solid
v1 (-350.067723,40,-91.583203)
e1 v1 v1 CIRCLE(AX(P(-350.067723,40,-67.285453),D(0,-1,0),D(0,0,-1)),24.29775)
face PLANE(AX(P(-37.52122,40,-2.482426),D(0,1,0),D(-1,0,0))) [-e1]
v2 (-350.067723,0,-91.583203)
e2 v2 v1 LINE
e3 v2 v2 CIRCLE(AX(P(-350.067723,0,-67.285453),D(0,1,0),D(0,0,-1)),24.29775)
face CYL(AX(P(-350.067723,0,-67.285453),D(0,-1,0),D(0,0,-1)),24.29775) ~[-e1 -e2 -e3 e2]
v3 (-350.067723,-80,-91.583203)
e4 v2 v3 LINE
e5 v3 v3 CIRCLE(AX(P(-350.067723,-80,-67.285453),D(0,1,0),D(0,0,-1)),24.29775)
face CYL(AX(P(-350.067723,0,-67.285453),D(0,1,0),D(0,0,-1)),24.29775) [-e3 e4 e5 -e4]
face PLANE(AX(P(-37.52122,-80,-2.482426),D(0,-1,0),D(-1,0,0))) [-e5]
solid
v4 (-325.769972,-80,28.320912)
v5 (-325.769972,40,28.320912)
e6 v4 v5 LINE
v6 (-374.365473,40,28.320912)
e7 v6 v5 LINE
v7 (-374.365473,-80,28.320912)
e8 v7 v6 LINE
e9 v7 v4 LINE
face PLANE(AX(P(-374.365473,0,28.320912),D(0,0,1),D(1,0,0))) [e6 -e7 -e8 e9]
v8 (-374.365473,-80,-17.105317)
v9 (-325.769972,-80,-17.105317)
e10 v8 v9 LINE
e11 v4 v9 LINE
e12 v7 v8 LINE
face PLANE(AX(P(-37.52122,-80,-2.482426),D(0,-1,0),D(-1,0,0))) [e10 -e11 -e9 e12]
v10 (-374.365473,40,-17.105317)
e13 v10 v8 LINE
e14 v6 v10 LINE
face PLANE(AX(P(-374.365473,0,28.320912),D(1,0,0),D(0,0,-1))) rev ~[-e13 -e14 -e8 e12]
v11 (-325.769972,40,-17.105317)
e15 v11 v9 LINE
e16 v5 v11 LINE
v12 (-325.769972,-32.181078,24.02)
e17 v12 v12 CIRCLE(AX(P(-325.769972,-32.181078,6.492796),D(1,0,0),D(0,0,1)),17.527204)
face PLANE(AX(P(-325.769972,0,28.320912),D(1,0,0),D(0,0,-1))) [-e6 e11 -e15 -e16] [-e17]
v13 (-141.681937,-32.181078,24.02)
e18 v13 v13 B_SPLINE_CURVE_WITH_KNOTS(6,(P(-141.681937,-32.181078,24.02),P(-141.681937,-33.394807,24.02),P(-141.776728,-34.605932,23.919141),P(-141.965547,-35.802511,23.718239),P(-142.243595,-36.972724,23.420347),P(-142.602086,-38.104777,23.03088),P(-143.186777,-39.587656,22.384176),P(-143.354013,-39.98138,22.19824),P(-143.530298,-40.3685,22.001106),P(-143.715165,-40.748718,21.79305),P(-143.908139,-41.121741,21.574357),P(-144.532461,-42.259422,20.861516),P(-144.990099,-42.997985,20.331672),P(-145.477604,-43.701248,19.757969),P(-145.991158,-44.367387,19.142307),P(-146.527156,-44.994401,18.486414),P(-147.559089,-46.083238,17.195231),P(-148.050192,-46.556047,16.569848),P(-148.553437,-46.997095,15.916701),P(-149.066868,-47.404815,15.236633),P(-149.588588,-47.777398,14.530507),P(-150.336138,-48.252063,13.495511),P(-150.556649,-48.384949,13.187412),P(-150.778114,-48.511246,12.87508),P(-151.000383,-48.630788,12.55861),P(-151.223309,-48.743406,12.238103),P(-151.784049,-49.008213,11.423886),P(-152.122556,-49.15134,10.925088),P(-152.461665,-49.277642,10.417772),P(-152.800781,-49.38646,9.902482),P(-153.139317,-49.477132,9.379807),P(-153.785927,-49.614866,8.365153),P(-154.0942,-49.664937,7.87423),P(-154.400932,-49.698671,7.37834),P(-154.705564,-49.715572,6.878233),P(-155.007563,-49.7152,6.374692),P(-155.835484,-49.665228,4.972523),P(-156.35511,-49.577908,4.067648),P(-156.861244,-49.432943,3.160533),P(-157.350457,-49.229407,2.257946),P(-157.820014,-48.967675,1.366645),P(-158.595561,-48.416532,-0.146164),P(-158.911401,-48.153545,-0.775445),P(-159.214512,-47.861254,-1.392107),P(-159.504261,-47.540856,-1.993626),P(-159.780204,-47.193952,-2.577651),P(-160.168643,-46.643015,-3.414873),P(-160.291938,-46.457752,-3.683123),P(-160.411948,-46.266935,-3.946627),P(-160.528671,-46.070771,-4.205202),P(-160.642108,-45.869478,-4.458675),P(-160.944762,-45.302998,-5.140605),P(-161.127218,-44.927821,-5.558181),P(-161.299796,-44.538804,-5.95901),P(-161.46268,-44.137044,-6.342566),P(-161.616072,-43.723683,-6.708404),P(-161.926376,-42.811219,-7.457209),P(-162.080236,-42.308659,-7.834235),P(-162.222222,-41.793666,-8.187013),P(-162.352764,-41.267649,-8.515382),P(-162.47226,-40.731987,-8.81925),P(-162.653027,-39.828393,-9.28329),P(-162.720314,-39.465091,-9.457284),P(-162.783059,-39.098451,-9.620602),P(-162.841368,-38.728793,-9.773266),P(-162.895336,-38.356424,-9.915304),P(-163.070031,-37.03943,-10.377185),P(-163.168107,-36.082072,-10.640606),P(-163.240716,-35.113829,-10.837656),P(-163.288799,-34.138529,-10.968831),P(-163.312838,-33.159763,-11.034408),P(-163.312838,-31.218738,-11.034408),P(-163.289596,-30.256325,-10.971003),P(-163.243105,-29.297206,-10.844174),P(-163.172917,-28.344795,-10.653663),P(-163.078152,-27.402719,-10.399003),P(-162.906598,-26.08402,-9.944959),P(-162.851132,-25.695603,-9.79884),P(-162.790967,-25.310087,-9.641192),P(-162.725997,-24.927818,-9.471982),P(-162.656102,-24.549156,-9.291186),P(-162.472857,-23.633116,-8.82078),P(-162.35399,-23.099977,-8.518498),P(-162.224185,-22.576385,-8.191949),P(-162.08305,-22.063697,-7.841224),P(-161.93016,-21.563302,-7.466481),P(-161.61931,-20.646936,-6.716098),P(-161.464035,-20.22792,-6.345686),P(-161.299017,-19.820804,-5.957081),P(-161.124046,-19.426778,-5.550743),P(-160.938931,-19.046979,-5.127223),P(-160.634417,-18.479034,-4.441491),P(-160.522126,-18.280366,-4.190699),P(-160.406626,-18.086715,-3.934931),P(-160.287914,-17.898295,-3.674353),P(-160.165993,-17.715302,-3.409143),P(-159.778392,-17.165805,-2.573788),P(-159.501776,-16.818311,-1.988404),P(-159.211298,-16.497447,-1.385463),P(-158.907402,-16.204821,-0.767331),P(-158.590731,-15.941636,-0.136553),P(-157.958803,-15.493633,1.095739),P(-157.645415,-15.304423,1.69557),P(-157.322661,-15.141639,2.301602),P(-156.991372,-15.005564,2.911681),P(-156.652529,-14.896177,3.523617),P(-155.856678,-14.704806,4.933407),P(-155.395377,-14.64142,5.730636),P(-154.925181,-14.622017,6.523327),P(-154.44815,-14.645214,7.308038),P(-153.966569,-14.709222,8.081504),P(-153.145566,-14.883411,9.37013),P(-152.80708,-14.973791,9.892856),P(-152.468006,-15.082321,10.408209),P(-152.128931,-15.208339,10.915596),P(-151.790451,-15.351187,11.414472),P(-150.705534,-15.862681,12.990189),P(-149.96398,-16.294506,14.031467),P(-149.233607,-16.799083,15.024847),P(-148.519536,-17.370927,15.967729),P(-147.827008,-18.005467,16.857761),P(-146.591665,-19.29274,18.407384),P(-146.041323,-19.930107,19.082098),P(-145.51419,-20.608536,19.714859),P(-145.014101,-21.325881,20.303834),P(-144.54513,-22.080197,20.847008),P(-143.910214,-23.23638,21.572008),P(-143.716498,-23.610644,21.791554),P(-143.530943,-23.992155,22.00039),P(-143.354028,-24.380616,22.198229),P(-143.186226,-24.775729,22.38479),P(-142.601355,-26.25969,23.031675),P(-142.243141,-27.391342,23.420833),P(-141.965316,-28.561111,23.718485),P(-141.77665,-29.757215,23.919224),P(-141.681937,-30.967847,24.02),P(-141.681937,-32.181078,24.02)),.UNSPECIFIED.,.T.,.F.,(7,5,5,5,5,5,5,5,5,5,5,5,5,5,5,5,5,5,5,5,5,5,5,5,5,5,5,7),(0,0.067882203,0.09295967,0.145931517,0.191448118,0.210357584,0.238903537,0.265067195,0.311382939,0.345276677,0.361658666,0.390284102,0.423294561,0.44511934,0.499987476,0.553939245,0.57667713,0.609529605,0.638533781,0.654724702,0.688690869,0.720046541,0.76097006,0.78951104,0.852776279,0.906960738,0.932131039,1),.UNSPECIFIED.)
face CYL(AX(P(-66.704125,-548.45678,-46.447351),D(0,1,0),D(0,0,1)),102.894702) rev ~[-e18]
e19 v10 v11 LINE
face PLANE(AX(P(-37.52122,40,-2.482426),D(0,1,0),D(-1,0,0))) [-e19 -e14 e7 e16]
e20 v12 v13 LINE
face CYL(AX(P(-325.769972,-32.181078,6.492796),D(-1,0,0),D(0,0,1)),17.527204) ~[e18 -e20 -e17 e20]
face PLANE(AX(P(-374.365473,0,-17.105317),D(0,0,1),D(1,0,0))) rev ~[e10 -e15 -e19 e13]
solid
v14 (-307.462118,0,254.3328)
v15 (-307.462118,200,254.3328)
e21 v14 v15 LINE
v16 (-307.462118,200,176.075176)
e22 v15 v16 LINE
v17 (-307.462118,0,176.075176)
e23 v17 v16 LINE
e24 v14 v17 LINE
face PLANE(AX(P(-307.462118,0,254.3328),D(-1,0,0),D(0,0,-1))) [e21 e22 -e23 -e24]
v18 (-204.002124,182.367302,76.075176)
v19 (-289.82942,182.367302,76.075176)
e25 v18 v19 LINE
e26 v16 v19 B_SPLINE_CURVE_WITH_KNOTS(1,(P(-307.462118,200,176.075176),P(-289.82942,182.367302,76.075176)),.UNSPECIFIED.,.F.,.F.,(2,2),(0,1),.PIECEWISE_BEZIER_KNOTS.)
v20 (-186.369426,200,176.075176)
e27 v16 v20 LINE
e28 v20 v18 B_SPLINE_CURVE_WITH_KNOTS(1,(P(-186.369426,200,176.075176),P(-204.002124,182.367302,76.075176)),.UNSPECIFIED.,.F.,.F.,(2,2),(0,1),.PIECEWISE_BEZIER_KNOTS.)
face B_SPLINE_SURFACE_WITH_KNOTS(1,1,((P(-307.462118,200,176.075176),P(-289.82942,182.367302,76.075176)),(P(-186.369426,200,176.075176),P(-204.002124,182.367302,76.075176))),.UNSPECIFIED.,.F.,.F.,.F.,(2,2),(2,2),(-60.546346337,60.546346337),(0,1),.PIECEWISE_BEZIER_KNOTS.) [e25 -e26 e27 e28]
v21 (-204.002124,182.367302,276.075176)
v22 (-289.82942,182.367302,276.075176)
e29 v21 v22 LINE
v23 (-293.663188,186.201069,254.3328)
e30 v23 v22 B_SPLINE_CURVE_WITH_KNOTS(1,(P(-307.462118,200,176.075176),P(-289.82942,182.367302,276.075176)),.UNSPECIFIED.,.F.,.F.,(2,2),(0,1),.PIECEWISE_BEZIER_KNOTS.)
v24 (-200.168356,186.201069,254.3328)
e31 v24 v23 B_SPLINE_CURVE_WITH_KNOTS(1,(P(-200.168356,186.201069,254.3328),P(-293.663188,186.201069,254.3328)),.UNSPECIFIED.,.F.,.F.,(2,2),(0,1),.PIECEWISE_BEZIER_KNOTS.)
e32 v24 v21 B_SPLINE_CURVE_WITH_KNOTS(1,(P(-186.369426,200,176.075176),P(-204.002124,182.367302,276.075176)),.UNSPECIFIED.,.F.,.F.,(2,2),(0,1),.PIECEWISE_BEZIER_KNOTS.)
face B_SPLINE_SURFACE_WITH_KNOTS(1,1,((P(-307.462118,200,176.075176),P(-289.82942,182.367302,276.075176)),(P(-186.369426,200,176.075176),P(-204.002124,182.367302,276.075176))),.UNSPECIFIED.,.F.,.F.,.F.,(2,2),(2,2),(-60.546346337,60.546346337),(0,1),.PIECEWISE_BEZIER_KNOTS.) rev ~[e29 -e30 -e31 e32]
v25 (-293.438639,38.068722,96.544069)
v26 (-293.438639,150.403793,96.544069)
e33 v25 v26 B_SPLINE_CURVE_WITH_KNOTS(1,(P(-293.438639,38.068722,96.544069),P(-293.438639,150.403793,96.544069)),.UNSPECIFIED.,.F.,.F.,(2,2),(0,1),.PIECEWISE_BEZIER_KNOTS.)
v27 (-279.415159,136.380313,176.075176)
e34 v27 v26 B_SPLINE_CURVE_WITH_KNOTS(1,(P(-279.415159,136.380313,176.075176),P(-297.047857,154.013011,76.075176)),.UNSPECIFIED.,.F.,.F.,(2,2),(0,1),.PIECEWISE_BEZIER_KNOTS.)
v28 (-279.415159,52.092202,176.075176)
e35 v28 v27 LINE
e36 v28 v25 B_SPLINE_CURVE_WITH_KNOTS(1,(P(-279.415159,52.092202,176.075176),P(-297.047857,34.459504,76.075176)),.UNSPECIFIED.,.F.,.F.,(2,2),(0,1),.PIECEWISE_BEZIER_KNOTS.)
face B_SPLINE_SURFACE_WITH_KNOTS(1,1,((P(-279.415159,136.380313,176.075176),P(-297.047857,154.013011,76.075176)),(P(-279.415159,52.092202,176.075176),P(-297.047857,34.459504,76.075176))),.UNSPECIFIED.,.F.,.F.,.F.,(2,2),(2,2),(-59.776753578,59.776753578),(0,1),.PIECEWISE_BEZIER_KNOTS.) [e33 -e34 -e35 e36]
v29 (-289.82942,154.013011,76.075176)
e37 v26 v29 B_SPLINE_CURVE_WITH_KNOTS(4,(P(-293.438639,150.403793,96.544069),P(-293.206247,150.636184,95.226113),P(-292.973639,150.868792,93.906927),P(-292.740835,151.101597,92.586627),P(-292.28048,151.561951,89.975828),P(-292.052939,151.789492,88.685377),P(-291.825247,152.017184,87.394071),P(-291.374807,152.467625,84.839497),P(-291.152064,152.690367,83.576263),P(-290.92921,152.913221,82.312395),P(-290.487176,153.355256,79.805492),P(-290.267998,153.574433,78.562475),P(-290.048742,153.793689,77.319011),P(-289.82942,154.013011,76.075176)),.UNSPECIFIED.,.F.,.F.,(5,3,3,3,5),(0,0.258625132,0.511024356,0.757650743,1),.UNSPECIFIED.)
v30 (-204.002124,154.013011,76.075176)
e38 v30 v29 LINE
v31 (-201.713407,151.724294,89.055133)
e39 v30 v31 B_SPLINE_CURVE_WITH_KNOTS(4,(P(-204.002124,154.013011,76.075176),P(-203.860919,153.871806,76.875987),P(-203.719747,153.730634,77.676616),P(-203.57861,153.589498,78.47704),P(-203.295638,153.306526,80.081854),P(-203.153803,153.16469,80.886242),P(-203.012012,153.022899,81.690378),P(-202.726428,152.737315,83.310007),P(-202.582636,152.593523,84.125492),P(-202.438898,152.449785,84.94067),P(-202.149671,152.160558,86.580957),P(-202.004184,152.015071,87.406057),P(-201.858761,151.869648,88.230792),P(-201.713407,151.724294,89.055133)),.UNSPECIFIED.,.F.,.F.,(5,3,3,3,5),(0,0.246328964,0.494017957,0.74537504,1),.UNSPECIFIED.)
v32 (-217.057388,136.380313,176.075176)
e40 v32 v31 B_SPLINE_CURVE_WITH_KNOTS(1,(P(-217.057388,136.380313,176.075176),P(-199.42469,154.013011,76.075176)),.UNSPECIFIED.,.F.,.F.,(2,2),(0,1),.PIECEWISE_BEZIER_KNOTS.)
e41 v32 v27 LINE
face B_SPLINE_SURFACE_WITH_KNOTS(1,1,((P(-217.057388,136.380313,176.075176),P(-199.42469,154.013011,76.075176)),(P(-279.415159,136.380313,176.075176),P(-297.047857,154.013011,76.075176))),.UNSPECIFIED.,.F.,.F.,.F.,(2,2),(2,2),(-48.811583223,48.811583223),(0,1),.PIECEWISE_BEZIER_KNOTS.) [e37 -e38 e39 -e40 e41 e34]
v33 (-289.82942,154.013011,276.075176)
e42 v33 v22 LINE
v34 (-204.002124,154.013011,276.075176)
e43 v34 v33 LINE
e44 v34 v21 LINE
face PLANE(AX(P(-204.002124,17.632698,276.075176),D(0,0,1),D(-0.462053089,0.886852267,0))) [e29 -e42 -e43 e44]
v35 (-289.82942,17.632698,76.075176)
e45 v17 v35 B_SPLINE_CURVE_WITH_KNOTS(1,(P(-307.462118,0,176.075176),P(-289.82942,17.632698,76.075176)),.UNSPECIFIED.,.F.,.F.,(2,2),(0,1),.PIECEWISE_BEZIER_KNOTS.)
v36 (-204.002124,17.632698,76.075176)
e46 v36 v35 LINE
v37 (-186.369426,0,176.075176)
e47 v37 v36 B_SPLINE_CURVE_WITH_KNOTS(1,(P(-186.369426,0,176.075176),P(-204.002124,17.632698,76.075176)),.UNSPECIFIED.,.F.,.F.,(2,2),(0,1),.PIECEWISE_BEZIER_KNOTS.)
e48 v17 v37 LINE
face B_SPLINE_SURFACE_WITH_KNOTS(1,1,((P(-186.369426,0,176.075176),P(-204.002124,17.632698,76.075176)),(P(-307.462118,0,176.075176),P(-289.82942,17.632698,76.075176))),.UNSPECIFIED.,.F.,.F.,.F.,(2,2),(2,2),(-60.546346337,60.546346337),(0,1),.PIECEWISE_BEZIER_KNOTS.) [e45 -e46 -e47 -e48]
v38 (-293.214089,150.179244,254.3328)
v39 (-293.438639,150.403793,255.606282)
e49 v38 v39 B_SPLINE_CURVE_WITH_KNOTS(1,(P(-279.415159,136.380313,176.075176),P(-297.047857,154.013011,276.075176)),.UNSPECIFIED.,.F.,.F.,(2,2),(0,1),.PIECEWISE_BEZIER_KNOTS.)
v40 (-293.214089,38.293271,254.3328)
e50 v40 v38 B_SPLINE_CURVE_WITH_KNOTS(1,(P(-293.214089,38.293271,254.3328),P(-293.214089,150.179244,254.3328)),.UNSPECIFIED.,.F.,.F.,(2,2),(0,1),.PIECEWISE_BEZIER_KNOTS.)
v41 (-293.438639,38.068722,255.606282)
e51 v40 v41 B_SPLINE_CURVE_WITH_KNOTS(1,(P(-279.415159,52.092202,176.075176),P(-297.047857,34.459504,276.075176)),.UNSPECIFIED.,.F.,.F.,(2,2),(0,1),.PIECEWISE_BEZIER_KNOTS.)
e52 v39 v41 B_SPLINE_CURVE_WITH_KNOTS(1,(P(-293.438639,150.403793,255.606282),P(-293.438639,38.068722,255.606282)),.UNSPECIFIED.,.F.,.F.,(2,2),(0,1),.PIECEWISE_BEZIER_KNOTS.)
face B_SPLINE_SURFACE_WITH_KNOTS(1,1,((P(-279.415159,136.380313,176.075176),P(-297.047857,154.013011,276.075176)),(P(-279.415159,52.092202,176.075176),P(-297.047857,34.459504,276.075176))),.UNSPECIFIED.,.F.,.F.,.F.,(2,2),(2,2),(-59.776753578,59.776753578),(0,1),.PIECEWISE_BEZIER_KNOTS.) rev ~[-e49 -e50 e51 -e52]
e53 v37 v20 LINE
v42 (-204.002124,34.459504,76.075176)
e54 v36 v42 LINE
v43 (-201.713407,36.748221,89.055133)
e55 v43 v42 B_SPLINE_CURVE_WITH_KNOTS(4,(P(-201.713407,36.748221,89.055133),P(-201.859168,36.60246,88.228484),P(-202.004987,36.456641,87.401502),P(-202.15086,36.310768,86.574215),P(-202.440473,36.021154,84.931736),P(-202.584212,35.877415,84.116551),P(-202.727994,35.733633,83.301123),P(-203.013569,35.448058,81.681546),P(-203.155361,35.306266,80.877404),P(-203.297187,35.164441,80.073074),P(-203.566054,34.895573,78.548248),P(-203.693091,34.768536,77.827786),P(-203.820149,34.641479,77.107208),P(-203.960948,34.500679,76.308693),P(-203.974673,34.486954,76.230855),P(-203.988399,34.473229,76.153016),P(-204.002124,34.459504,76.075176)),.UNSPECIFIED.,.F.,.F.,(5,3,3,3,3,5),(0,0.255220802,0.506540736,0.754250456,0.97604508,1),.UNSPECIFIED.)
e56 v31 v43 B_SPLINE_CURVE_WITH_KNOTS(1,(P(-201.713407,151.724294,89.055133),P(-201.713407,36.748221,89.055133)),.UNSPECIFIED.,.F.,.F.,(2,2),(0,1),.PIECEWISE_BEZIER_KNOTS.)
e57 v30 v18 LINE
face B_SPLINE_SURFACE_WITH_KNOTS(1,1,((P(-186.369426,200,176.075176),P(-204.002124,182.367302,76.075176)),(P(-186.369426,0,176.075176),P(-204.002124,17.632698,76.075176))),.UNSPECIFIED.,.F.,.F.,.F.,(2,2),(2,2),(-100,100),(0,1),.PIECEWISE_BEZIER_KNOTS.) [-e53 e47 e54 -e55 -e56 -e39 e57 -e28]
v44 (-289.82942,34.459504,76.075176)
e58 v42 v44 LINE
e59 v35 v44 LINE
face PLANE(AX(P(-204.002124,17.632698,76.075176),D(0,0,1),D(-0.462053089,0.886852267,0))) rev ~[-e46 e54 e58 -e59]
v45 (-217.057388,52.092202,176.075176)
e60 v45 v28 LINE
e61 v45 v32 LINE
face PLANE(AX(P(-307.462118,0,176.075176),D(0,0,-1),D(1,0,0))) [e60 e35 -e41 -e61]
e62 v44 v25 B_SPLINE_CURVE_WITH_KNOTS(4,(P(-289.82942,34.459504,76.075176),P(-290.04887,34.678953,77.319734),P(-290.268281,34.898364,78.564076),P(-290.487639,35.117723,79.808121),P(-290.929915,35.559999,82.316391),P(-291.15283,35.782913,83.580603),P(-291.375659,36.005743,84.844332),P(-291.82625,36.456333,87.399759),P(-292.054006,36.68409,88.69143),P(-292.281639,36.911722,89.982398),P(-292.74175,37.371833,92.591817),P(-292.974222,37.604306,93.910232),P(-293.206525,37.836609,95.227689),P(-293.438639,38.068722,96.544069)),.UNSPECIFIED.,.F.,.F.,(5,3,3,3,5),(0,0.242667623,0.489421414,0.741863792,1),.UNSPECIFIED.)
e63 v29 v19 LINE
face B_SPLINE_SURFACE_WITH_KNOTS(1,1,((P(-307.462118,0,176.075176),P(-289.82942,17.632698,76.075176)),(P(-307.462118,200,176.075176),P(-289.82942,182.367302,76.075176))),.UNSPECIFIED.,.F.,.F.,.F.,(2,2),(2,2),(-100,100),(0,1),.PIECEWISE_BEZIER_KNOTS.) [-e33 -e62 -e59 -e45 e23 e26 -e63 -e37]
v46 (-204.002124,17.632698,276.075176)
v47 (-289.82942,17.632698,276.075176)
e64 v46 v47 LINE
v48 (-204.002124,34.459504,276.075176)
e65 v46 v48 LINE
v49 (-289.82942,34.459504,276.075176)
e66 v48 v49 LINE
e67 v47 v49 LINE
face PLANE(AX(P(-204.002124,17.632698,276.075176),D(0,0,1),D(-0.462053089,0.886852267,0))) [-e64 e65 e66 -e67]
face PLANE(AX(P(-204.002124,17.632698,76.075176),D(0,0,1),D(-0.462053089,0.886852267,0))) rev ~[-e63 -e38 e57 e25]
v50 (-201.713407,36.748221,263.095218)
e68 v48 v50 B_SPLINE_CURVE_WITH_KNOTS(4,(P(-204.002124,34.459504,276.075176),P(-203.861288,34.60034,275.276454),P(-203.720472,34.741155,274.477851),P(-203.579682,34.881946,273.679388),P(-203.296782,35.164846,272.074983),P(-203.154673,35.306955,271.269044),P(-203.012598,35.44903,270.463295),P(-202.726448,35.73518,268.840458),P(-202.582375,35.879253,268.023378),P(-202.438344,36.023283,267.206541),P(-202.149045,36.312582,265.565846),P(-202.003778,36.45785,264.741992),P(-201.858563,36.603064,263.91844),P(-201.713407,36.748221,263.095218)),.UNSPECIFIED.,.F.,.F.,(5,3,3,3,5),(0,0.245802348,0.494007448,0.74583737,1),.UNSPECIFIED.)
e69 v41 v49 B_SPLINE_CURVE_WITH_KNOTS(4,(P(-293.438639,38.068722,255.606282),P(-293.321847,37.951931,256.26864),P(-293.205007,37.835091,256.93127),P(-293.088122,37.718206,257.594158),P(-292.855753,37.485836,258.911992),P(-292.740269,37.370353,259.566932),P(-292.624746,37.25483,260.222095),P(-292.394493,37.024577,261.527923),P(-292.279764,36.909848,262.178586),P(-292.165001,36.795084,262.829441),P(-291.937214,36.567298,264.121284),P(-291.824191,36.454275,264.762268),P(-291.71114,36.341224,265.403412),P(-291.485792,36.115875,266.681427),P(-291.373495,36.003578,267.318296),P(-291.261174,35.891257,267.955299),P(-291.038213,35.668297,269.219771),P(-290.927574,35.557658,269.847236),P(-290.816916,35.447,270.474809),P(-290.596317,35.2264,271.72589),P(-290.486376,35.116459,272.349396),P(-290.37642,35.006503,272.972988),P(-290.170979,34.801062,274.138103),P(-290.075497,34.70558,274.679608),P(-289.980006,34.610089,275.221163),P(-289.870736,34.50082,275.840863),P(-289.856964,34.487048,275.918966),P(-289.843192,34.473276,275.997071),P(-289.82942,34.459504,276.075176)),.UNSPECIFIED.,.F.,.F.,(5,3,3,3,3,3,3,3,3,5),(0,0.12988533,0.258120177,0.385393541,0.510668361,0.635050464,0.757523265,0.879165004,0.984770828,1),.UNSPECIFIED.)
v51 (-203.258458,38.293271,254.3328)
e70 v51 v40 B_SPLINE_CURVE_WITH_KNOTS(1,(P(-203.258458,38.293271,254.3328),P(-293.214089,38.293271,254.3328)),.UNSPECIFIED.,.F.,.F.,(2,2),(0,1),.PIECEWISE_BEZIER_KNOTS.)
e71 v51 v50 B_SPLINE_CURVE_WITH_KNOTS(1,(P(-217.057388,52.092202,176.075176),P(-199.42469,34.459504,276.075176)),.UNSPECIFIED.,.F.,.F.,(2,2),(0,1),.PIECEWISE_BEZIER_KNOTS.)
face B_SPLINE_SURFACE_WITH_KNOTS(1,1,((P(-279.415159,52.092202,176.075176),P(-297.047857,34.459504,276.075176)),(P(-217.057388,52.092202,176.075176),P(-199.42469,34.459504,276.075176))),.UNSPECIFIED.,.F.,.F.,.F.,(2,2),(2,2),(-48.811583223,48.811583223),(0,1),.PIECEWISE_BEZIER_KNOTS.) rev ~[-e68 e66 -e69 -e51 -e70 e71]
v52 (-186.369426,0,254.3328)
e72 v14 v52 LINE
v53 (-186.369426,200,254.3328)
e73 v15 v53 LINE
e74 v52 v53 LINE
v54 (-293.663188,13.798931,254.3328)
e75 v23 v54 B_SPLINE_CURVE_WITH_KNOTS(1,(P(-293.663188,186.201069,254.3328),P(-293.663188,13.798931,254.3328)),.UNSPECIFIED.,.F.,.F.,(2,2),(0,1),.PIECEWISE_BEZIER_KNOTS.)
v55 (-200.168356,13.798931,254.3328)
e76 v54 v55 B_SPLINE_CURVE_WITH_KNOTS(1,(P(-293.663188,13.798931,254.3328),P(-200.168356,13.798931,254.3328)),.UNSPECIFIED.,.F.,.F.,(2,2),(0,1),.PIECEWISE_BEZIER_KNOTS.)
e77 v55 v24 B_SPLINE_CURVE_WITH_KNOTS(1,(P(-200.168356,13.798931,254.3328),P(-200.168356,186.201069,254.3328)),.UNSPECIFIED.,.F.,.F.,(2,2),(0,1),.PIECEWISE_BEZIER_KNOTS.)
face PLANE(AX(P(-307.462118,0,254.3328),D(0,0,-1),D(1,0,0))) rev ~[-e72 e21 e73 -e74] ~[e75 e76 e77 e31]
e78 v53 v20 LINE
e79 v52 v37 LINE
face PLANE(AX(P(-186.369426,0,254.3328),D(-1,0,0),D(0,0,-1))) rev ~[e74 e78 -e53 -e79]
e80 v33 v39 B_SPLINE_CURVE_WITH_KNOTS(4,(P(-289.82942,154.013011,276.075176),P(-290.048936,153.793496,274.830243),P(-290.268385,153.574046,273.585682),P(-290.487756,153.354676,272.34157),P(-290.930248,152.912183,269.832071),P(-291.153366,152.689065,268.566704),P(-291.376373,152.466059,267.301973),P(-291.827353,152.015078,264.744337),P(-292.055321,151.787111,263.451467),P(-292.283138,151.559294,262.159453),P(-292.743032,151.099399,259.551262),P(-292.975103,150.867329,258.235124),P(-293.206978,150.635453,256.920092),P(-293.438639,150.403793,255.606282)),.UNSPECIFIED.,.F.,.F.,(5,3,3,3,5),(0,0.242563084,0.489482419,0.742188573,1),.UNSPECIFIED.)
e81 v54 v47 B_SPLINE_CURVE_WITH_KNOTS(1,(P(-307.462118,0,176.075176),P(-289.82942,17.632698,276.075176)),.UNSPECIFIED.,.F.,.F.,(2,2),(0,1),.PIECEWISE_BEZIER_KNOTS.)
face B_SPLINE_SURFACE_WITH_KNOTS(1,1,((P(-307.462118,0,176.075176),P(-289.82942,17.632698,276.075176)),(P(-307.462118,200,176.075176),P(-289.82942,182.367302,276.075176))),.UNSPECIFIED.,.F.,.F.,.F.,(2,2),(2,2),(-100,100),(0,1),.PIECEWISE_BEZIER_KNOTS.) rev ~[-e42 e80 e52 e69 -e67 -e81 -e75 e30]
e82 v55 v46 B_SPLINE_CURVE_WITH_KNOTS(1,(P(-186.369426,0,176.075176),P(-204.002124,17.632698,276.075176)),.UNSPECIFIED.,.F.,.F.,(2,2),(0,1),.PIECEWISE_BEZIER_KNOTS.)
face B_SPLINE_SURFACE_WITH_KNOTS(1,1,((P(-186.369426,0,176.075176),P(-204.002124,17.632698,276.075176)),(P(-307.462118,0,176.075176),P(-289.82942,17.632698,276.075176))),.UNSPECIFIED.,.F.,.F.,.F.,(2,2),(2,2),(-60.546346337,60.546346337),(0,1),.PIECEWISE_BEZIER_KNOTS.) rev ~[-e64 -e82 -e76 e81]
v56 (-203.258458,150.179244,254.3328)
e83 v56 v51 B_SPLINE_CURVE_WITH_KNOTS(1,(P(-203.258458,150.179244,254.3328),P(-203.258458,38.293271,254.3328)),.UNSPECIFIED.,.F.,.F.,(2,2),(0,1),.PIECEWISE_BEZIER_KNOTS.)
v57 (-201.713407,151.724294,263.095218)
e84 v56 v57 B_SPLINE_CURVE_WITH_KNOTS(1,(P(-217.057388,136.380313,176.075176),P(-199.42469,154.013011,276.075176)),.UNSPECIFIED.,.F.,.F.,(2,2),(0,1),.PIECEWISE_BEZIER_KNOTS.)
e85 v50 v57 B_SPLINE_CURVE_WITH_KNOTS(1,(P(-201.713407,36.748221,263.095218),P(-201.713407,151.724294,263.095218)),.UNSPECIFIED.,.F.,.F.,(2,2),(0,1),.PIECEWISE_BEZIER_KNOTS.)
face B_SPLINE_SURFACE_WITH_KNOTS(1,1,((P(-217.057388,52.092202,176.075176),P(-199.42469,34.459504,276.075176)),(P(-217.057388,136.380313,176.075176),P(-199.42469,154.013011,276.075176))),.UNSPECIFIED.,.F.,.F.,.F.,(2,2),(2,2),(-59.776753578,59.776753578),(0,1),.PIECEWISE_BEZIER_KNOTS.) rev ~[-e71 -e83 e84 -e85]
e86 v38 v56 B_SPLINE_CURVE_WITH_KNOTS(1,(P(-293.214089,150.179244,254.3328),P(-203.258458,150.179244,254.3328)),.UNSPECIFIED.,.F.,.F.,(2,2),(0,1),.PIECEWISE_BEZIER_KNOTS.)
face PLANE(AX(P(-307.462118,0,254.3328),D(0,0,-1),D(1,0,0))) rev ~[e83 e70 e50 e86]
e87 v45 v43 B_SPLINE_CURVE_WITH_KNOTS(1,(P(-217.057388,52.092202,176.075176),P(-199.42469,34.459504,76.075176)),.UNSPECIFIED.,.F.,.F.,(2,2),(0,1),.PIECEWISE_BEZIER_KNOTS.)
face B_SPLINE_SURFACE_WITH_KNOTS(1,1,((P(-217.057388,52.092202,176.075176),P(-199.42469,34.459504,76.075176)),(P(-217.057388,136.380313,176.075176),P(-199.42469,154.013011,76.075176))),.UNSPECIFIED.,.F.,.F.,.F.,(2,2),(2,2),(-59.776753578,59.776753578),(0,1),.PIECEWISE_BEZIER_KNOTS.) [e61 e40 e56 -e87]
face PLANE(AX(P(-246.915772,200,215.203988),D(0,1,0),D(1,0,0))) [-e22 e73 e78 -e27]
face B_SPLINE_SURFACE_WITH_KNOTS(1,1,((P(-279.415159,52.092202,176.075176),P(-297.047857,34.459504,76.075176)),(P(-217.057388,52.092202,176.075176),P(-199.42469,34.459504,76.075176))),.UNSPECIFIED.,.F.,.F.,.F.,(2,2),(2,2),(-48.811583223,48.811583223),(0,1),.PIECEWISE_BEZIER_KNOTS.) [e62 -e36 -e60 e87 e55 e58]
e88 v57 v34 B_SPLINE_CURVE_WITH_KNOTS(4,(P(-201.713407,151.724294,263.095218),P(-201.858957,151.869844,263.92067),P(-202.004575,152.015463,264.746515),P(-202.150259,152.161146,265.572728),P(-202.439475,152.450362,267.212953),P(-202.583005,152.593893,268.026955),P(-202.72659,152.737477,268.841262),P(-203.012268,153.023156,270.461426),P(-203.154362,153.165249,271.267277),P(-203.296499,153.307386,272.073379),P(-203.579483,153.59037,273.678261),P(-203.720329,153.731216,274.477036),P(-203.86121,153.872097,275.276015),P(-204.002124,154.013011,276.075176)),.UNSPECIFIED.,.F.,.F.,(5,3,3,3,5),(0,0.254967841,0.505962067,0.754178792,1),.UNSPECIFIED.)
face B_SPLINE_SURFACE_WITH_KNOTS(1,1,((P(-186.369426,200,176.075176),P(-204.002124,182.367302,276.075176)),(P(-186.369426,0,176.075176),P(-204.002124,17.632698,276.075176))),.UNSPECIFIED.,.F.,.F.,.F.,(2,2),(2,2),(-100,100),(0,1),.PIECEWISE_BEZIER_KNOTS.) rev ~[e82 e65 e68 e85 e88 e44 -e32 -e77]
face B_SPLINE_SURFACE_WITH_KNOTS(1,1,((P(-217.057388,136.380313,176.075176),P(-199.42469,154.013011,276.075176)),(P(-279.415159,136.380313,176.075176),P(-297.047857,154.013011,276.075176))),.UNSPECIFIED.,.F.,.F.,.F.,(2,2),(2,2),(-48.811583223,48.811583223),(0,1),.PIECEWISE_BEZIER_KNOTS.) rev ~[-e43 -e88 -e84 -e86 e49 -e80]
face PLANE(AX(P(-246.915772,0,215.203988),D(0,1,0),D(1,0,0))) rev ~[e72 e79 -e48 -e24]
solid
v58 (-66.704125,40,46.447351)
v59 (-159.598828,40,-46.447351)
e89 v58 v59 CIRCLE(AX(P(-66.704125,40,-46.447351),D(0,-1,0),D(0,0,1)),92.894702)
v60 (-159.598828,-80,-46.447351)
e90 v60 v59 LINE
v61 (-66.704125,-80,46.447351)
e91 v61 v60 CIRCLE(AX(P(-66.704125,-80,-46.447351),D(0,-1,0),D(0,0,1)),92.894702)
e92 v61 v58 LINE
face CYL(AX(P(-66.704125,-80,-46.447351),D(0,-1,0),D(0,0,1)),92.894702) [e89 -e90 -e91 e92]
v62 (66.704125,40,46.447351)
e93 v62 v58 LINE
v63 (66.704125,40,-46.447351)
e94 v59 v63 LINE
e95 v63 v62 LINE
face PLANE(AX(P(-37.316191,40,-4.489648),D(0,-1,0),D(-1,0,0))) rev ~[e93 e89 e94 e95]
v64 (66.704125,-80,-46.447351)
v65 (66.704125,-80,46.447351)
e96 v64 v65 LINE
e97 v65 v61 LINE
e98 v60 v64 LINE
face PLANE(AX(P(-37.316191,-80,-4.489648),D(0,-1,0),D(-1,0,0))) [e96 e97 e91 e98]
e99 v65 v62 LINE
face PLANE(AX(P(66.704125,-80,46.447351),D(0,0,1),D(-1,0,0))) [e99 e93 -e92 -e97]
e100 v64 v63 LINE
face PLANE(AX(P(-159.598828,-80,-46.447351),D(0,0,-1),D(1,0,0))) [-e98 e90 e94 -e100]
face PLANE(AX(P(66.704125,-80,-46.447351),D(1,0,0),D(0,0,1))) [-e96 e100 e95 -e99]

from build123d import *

# Parameters (mm, degrees)
CUBE_DEPTH                      = 40
CUBE_DEPTH_BACK                 = 80
BOSS_EXTRUDE2_REACH             = 186.47
SKETCH2_R                       = 24.297750185
SKETCH2_W                       = 48.59550037
SKETCH2_H                       = 45.426228606
BOSS_EXTRUDE2_DIRECTION_2_REACH = 186.47
BOSS_EXTRUDE3_REACH             = 412.881
BOSS_EXTRUDE3_END_RADIUS        = 102.894702313
SKETCH3_R                       = 17.52720412
SKETCH4_W                       = 121.092692674
SKETCH4_H                       = 78.257623931
BOSS_EXTRUDE4_DEPTH             = 200
SKETCH5_W                       = 121.092692674
SKETCH5_H                       = 200
SKETCH5_W_2                     = 62.357770304
SKETCH5_H_2                     = 84.288111015
BOSS_EXTRUDE5_DEPTH             = 100
BOSS_EXTRUDE5_TAPER             = 10
BOSS_EXTRUDE5_OTHER_WAY_DEPTH   = 100
BOSS_EXTRUDE5_OTHER_WAY_TAPER   = 10


with BuildPart() as part:
    # Rectangle for cube → cube (new, two sides: drawn at the far end of the back side and taken through both)
    with BuildSketch(Plane(origin=(0, 0, 0), x_dir=(1, 0, 0), z_dir=(0, 1, 0)).offset(-CUBE_DEPTH_BACK)):
        with BuildLine():
            Line((-159.598827762, 46.447351156), (-66.704125449, 46.447351156))
            Line((-66.704125449, 46.447351156), (66.704125449, 46.447351156))
            Line((66.704125449, 46.447351156), (66.704125449, -46.447351156))
            Line((66.704125449, -46.447351156), (-66.704125449, -46.447351156))
            ThreePointArc((-66.704125449, -46.447351156), (-132.390599391, -19.239122785), (-159.598827762, 46.447351156))
        make_face()
    extrude(amount=CUBE_DEPTH + CUBE_DEPTH_BACK)


with BuildPart() as body_2:

    # Boss-Extrude2: up to this face of the body (flat: up to its plane)
    boss_extrude2_end = Plane(part.part.faces().sort_by_distance((-37.521220462, 40, -2.482426343))[0])
    # Sketch2 → Boss-Extrude2 (new, up to the picked face)
    with BuildSketch(Plane(origin=(0, 0, 0), x_dir=(1, 0, 0), z_dir=(0, 1, 0)), mode=Mode.PRIVATE) as boss_extrude2_sk1:
        with Locations(Location((-350.067722674, 67.285453273, 0), (0, 0, 90))):
            Circle(SKETCH2_R)
    boss_extrude2_tool1 = split(extrude(boss_extrude2_sk1.sketch, amount=BOSS_EXTRUDE2_REACH, mode=Mode.PRIVATE), bisect_by=boss_extrude2_end, keep=Keep.BOTH, mode=Mode.PRIVATE)
    # Sketch2 → Boss-Extrude2 (new, up to the picked face)
    with BuildSketch(Plane(origin=(0, 0, 0), x_dir=(1, 0, 0), z_dir=(0, 1, 0)), mode=Mode.PRIVATE) as boss_extrude2_sk2:
        with Locations((-350.067722674, -5.607797281)):
            Rectangle(SKETCH2_W, SKETCH2_H)
    boss_extrude2_tool2 = split(extrude(boss_extrude2_sk2.sketch, amount=BOSS_EXTRUDE2_REACH, mode=Mode.PRIVATE), bisect_by=boss_extrude2_end, keep=Keep.BOTH, mode=Mode.PRIVATE)
    add(boss_extrude2_tool1.solids().sort_by(Axis((-350.067723, 0, -67.285453), (0, 1, 0)))[0])
    add(boss_extrude2_tool2.solids().sort_by(Axis((-350.067723, 0, 5.607797), (0, 1, 0)))[0])


    # Boss-Extrude2 direction 2: up to this face of the body (flat: up to its plane)
    boss_extrude2_direction_2_end = Plane(part.part.faces().sort_by_distance((-37.521220462, -80, -2.482426343))[0])
    # Sketch2 → Boss-Extrude2 direction 2 (add, up to the picked face)
    with BuildSketch(Plane(origin=(0, 0, 0), x_dir=(1, 0, 0), z_dir=(0, 1, 0)), mode=Mode.PRIVATE) as boss_extrude2_direction_2_sk1:
        with Locations(Location((-350.067722674, 67.285453273, 0), (0, 0, 90))):
            Circle(SKETCH2_R)
    boss_extrude2_direction_2_tool1 = split(extrude(boss_extrude2_direction_2_sk1.sketch, amount=-BOSS_EXTRUDE2_DIRECTION_2_REACH, mode=Mode.PRIVATE), bisect_by=boss_extrude2_direction_2_end, keep=Keep.BOTH, mode=Mode.PRIVATE)
    # Sketch2 → Boss-Extrude2 direction 2 (add, up to the picked face)
    with BuildSketch(Plane(origin=(0, 0, 0), x_dir=(1, 0, 0), z_dir=(0, 1, 0)), mode=Mode.PRIVATE) as boss_extrude2_direction_2_sk2:
        with Locations((-350.067722674, -5.607797281)):
            Rectangle(SKETCH2_W, SKETCH2_H)
    boss_extrude2_direction_2_tool2 = split(extrude(boss_extrude2_direction_2_sk2.sketch, amount=-BOSS_EXTRUDE2_DIRECTION_2_REACH, mode=Mode.PRIVATE), bisect_by=boss_extrude2_direction_2_end, keep=Keep.BOTH, mode=Mode.PRIVATE)
    add(boss_extrude2_direction_2_tool1.solids().sort_by(Axis((-350.067723, 0, -67.285453), (0, -1, 0)))[0])
    add(boss_extrude2_direction_2_tool2.solids().sort_by(Axis((-350.067723, 0, 5.607797), (0, -1, 0)))[0])

    # Boss-Extrude3: up to this cylinder (the profile starts outside it)
    boss_extrude3_end = Plane(origin=(-66.704125449, -32.181078, -46.447351156), z_dir=(0, 1, 0)) * Cylinder(BOSS_EXTRUDE3_END_RADIUS, 1032.551404626, mode=Mode.PRIVATE)
    # Sketch3 → Boss-Extrude3 (add, up to the surface)
    with BuildSketch(Plane(origin=(-325.769972489, 0, 0), x_dir=(0, 0, -1), z_dir=(1, 0, 0)), mode=Mode.PRIVATE) as boss_extrude3_sk1:
        with Locations(Location((-6.492795735, -32.18107782, 0), (0, 0, 180))):
            Circle(SKETCH3_R)
    boss_extrude3_tool1 = extrude(boss_extrude3_sk1.sketch, amount=BOSS_EXTRUDE3_REACH, mode=Mode.PRIVATE) - boss_extrude3_end
    add(boss_extrude3_tool1.solids().sort_by_distance((-325.769972, -32.181078, 6.492796))[0])


with BuildPart() as body_3:
    # Sketch4 → Boss-Extrude4 (new body)
    with BuildSketch(Plane(origin=(0, 0, 0), x_dir=(1, 0, 0), z_dir=(0, 1, 0))):
        with Locations((-246.915772104, -215.203987641)):
            Rectangle(SKETCH4_W, SKETCH4_H)
    extrude(amount=BOSS_EXTRUDE4_DEPTH)

    # Sketch5 → Boss-Extrude5 (add)
    with BuildSketch(Plane(origin=(0, 0, 176.075175675), x_dir=(-1, 0, 0), z_dir=(0, 0, -1))):
        with Locations((246.915772104, 100)):
            Rectangle(SKETCH5_W, SKETCH5_H)
        with Locations((248.236273577, 94.236257506)):
            Rectangle(SKETCH5_W_2, SKETCH5_H_2, mode=Mode.SUBTRACT)
    extrude(amount=BOSS_EXTRUDE5_DEPTH, taper=BOSS_EXTRUDE5_TAPER)

    # Sketch5 → Boss-Extrude5 other way (add)
    with BuildSketch(Plane(origin=(0, 0, 176.075175675), x_dir=(-1, 0, 0), z_dir=(0, 0, -1))):
        with Locations((246.915772104, 100)):
            Rectangle(SKETCH5_W, SKETCH5_H)
        with Locations((248.236273577, 94.236257506)):
            Rectangle(SKETCH5_W_2, SKETCH5_H_2, mode=Mode.SUBTRACT)
    extrude(amount=-BOSS_EXTRUDE5_OTHER_WAY_DEPTH, taper=BOSS_EXTRUDE5_OTHER_WAY_TAPER)


solid = Compound([part.part, body_2.part, body_3.part])
